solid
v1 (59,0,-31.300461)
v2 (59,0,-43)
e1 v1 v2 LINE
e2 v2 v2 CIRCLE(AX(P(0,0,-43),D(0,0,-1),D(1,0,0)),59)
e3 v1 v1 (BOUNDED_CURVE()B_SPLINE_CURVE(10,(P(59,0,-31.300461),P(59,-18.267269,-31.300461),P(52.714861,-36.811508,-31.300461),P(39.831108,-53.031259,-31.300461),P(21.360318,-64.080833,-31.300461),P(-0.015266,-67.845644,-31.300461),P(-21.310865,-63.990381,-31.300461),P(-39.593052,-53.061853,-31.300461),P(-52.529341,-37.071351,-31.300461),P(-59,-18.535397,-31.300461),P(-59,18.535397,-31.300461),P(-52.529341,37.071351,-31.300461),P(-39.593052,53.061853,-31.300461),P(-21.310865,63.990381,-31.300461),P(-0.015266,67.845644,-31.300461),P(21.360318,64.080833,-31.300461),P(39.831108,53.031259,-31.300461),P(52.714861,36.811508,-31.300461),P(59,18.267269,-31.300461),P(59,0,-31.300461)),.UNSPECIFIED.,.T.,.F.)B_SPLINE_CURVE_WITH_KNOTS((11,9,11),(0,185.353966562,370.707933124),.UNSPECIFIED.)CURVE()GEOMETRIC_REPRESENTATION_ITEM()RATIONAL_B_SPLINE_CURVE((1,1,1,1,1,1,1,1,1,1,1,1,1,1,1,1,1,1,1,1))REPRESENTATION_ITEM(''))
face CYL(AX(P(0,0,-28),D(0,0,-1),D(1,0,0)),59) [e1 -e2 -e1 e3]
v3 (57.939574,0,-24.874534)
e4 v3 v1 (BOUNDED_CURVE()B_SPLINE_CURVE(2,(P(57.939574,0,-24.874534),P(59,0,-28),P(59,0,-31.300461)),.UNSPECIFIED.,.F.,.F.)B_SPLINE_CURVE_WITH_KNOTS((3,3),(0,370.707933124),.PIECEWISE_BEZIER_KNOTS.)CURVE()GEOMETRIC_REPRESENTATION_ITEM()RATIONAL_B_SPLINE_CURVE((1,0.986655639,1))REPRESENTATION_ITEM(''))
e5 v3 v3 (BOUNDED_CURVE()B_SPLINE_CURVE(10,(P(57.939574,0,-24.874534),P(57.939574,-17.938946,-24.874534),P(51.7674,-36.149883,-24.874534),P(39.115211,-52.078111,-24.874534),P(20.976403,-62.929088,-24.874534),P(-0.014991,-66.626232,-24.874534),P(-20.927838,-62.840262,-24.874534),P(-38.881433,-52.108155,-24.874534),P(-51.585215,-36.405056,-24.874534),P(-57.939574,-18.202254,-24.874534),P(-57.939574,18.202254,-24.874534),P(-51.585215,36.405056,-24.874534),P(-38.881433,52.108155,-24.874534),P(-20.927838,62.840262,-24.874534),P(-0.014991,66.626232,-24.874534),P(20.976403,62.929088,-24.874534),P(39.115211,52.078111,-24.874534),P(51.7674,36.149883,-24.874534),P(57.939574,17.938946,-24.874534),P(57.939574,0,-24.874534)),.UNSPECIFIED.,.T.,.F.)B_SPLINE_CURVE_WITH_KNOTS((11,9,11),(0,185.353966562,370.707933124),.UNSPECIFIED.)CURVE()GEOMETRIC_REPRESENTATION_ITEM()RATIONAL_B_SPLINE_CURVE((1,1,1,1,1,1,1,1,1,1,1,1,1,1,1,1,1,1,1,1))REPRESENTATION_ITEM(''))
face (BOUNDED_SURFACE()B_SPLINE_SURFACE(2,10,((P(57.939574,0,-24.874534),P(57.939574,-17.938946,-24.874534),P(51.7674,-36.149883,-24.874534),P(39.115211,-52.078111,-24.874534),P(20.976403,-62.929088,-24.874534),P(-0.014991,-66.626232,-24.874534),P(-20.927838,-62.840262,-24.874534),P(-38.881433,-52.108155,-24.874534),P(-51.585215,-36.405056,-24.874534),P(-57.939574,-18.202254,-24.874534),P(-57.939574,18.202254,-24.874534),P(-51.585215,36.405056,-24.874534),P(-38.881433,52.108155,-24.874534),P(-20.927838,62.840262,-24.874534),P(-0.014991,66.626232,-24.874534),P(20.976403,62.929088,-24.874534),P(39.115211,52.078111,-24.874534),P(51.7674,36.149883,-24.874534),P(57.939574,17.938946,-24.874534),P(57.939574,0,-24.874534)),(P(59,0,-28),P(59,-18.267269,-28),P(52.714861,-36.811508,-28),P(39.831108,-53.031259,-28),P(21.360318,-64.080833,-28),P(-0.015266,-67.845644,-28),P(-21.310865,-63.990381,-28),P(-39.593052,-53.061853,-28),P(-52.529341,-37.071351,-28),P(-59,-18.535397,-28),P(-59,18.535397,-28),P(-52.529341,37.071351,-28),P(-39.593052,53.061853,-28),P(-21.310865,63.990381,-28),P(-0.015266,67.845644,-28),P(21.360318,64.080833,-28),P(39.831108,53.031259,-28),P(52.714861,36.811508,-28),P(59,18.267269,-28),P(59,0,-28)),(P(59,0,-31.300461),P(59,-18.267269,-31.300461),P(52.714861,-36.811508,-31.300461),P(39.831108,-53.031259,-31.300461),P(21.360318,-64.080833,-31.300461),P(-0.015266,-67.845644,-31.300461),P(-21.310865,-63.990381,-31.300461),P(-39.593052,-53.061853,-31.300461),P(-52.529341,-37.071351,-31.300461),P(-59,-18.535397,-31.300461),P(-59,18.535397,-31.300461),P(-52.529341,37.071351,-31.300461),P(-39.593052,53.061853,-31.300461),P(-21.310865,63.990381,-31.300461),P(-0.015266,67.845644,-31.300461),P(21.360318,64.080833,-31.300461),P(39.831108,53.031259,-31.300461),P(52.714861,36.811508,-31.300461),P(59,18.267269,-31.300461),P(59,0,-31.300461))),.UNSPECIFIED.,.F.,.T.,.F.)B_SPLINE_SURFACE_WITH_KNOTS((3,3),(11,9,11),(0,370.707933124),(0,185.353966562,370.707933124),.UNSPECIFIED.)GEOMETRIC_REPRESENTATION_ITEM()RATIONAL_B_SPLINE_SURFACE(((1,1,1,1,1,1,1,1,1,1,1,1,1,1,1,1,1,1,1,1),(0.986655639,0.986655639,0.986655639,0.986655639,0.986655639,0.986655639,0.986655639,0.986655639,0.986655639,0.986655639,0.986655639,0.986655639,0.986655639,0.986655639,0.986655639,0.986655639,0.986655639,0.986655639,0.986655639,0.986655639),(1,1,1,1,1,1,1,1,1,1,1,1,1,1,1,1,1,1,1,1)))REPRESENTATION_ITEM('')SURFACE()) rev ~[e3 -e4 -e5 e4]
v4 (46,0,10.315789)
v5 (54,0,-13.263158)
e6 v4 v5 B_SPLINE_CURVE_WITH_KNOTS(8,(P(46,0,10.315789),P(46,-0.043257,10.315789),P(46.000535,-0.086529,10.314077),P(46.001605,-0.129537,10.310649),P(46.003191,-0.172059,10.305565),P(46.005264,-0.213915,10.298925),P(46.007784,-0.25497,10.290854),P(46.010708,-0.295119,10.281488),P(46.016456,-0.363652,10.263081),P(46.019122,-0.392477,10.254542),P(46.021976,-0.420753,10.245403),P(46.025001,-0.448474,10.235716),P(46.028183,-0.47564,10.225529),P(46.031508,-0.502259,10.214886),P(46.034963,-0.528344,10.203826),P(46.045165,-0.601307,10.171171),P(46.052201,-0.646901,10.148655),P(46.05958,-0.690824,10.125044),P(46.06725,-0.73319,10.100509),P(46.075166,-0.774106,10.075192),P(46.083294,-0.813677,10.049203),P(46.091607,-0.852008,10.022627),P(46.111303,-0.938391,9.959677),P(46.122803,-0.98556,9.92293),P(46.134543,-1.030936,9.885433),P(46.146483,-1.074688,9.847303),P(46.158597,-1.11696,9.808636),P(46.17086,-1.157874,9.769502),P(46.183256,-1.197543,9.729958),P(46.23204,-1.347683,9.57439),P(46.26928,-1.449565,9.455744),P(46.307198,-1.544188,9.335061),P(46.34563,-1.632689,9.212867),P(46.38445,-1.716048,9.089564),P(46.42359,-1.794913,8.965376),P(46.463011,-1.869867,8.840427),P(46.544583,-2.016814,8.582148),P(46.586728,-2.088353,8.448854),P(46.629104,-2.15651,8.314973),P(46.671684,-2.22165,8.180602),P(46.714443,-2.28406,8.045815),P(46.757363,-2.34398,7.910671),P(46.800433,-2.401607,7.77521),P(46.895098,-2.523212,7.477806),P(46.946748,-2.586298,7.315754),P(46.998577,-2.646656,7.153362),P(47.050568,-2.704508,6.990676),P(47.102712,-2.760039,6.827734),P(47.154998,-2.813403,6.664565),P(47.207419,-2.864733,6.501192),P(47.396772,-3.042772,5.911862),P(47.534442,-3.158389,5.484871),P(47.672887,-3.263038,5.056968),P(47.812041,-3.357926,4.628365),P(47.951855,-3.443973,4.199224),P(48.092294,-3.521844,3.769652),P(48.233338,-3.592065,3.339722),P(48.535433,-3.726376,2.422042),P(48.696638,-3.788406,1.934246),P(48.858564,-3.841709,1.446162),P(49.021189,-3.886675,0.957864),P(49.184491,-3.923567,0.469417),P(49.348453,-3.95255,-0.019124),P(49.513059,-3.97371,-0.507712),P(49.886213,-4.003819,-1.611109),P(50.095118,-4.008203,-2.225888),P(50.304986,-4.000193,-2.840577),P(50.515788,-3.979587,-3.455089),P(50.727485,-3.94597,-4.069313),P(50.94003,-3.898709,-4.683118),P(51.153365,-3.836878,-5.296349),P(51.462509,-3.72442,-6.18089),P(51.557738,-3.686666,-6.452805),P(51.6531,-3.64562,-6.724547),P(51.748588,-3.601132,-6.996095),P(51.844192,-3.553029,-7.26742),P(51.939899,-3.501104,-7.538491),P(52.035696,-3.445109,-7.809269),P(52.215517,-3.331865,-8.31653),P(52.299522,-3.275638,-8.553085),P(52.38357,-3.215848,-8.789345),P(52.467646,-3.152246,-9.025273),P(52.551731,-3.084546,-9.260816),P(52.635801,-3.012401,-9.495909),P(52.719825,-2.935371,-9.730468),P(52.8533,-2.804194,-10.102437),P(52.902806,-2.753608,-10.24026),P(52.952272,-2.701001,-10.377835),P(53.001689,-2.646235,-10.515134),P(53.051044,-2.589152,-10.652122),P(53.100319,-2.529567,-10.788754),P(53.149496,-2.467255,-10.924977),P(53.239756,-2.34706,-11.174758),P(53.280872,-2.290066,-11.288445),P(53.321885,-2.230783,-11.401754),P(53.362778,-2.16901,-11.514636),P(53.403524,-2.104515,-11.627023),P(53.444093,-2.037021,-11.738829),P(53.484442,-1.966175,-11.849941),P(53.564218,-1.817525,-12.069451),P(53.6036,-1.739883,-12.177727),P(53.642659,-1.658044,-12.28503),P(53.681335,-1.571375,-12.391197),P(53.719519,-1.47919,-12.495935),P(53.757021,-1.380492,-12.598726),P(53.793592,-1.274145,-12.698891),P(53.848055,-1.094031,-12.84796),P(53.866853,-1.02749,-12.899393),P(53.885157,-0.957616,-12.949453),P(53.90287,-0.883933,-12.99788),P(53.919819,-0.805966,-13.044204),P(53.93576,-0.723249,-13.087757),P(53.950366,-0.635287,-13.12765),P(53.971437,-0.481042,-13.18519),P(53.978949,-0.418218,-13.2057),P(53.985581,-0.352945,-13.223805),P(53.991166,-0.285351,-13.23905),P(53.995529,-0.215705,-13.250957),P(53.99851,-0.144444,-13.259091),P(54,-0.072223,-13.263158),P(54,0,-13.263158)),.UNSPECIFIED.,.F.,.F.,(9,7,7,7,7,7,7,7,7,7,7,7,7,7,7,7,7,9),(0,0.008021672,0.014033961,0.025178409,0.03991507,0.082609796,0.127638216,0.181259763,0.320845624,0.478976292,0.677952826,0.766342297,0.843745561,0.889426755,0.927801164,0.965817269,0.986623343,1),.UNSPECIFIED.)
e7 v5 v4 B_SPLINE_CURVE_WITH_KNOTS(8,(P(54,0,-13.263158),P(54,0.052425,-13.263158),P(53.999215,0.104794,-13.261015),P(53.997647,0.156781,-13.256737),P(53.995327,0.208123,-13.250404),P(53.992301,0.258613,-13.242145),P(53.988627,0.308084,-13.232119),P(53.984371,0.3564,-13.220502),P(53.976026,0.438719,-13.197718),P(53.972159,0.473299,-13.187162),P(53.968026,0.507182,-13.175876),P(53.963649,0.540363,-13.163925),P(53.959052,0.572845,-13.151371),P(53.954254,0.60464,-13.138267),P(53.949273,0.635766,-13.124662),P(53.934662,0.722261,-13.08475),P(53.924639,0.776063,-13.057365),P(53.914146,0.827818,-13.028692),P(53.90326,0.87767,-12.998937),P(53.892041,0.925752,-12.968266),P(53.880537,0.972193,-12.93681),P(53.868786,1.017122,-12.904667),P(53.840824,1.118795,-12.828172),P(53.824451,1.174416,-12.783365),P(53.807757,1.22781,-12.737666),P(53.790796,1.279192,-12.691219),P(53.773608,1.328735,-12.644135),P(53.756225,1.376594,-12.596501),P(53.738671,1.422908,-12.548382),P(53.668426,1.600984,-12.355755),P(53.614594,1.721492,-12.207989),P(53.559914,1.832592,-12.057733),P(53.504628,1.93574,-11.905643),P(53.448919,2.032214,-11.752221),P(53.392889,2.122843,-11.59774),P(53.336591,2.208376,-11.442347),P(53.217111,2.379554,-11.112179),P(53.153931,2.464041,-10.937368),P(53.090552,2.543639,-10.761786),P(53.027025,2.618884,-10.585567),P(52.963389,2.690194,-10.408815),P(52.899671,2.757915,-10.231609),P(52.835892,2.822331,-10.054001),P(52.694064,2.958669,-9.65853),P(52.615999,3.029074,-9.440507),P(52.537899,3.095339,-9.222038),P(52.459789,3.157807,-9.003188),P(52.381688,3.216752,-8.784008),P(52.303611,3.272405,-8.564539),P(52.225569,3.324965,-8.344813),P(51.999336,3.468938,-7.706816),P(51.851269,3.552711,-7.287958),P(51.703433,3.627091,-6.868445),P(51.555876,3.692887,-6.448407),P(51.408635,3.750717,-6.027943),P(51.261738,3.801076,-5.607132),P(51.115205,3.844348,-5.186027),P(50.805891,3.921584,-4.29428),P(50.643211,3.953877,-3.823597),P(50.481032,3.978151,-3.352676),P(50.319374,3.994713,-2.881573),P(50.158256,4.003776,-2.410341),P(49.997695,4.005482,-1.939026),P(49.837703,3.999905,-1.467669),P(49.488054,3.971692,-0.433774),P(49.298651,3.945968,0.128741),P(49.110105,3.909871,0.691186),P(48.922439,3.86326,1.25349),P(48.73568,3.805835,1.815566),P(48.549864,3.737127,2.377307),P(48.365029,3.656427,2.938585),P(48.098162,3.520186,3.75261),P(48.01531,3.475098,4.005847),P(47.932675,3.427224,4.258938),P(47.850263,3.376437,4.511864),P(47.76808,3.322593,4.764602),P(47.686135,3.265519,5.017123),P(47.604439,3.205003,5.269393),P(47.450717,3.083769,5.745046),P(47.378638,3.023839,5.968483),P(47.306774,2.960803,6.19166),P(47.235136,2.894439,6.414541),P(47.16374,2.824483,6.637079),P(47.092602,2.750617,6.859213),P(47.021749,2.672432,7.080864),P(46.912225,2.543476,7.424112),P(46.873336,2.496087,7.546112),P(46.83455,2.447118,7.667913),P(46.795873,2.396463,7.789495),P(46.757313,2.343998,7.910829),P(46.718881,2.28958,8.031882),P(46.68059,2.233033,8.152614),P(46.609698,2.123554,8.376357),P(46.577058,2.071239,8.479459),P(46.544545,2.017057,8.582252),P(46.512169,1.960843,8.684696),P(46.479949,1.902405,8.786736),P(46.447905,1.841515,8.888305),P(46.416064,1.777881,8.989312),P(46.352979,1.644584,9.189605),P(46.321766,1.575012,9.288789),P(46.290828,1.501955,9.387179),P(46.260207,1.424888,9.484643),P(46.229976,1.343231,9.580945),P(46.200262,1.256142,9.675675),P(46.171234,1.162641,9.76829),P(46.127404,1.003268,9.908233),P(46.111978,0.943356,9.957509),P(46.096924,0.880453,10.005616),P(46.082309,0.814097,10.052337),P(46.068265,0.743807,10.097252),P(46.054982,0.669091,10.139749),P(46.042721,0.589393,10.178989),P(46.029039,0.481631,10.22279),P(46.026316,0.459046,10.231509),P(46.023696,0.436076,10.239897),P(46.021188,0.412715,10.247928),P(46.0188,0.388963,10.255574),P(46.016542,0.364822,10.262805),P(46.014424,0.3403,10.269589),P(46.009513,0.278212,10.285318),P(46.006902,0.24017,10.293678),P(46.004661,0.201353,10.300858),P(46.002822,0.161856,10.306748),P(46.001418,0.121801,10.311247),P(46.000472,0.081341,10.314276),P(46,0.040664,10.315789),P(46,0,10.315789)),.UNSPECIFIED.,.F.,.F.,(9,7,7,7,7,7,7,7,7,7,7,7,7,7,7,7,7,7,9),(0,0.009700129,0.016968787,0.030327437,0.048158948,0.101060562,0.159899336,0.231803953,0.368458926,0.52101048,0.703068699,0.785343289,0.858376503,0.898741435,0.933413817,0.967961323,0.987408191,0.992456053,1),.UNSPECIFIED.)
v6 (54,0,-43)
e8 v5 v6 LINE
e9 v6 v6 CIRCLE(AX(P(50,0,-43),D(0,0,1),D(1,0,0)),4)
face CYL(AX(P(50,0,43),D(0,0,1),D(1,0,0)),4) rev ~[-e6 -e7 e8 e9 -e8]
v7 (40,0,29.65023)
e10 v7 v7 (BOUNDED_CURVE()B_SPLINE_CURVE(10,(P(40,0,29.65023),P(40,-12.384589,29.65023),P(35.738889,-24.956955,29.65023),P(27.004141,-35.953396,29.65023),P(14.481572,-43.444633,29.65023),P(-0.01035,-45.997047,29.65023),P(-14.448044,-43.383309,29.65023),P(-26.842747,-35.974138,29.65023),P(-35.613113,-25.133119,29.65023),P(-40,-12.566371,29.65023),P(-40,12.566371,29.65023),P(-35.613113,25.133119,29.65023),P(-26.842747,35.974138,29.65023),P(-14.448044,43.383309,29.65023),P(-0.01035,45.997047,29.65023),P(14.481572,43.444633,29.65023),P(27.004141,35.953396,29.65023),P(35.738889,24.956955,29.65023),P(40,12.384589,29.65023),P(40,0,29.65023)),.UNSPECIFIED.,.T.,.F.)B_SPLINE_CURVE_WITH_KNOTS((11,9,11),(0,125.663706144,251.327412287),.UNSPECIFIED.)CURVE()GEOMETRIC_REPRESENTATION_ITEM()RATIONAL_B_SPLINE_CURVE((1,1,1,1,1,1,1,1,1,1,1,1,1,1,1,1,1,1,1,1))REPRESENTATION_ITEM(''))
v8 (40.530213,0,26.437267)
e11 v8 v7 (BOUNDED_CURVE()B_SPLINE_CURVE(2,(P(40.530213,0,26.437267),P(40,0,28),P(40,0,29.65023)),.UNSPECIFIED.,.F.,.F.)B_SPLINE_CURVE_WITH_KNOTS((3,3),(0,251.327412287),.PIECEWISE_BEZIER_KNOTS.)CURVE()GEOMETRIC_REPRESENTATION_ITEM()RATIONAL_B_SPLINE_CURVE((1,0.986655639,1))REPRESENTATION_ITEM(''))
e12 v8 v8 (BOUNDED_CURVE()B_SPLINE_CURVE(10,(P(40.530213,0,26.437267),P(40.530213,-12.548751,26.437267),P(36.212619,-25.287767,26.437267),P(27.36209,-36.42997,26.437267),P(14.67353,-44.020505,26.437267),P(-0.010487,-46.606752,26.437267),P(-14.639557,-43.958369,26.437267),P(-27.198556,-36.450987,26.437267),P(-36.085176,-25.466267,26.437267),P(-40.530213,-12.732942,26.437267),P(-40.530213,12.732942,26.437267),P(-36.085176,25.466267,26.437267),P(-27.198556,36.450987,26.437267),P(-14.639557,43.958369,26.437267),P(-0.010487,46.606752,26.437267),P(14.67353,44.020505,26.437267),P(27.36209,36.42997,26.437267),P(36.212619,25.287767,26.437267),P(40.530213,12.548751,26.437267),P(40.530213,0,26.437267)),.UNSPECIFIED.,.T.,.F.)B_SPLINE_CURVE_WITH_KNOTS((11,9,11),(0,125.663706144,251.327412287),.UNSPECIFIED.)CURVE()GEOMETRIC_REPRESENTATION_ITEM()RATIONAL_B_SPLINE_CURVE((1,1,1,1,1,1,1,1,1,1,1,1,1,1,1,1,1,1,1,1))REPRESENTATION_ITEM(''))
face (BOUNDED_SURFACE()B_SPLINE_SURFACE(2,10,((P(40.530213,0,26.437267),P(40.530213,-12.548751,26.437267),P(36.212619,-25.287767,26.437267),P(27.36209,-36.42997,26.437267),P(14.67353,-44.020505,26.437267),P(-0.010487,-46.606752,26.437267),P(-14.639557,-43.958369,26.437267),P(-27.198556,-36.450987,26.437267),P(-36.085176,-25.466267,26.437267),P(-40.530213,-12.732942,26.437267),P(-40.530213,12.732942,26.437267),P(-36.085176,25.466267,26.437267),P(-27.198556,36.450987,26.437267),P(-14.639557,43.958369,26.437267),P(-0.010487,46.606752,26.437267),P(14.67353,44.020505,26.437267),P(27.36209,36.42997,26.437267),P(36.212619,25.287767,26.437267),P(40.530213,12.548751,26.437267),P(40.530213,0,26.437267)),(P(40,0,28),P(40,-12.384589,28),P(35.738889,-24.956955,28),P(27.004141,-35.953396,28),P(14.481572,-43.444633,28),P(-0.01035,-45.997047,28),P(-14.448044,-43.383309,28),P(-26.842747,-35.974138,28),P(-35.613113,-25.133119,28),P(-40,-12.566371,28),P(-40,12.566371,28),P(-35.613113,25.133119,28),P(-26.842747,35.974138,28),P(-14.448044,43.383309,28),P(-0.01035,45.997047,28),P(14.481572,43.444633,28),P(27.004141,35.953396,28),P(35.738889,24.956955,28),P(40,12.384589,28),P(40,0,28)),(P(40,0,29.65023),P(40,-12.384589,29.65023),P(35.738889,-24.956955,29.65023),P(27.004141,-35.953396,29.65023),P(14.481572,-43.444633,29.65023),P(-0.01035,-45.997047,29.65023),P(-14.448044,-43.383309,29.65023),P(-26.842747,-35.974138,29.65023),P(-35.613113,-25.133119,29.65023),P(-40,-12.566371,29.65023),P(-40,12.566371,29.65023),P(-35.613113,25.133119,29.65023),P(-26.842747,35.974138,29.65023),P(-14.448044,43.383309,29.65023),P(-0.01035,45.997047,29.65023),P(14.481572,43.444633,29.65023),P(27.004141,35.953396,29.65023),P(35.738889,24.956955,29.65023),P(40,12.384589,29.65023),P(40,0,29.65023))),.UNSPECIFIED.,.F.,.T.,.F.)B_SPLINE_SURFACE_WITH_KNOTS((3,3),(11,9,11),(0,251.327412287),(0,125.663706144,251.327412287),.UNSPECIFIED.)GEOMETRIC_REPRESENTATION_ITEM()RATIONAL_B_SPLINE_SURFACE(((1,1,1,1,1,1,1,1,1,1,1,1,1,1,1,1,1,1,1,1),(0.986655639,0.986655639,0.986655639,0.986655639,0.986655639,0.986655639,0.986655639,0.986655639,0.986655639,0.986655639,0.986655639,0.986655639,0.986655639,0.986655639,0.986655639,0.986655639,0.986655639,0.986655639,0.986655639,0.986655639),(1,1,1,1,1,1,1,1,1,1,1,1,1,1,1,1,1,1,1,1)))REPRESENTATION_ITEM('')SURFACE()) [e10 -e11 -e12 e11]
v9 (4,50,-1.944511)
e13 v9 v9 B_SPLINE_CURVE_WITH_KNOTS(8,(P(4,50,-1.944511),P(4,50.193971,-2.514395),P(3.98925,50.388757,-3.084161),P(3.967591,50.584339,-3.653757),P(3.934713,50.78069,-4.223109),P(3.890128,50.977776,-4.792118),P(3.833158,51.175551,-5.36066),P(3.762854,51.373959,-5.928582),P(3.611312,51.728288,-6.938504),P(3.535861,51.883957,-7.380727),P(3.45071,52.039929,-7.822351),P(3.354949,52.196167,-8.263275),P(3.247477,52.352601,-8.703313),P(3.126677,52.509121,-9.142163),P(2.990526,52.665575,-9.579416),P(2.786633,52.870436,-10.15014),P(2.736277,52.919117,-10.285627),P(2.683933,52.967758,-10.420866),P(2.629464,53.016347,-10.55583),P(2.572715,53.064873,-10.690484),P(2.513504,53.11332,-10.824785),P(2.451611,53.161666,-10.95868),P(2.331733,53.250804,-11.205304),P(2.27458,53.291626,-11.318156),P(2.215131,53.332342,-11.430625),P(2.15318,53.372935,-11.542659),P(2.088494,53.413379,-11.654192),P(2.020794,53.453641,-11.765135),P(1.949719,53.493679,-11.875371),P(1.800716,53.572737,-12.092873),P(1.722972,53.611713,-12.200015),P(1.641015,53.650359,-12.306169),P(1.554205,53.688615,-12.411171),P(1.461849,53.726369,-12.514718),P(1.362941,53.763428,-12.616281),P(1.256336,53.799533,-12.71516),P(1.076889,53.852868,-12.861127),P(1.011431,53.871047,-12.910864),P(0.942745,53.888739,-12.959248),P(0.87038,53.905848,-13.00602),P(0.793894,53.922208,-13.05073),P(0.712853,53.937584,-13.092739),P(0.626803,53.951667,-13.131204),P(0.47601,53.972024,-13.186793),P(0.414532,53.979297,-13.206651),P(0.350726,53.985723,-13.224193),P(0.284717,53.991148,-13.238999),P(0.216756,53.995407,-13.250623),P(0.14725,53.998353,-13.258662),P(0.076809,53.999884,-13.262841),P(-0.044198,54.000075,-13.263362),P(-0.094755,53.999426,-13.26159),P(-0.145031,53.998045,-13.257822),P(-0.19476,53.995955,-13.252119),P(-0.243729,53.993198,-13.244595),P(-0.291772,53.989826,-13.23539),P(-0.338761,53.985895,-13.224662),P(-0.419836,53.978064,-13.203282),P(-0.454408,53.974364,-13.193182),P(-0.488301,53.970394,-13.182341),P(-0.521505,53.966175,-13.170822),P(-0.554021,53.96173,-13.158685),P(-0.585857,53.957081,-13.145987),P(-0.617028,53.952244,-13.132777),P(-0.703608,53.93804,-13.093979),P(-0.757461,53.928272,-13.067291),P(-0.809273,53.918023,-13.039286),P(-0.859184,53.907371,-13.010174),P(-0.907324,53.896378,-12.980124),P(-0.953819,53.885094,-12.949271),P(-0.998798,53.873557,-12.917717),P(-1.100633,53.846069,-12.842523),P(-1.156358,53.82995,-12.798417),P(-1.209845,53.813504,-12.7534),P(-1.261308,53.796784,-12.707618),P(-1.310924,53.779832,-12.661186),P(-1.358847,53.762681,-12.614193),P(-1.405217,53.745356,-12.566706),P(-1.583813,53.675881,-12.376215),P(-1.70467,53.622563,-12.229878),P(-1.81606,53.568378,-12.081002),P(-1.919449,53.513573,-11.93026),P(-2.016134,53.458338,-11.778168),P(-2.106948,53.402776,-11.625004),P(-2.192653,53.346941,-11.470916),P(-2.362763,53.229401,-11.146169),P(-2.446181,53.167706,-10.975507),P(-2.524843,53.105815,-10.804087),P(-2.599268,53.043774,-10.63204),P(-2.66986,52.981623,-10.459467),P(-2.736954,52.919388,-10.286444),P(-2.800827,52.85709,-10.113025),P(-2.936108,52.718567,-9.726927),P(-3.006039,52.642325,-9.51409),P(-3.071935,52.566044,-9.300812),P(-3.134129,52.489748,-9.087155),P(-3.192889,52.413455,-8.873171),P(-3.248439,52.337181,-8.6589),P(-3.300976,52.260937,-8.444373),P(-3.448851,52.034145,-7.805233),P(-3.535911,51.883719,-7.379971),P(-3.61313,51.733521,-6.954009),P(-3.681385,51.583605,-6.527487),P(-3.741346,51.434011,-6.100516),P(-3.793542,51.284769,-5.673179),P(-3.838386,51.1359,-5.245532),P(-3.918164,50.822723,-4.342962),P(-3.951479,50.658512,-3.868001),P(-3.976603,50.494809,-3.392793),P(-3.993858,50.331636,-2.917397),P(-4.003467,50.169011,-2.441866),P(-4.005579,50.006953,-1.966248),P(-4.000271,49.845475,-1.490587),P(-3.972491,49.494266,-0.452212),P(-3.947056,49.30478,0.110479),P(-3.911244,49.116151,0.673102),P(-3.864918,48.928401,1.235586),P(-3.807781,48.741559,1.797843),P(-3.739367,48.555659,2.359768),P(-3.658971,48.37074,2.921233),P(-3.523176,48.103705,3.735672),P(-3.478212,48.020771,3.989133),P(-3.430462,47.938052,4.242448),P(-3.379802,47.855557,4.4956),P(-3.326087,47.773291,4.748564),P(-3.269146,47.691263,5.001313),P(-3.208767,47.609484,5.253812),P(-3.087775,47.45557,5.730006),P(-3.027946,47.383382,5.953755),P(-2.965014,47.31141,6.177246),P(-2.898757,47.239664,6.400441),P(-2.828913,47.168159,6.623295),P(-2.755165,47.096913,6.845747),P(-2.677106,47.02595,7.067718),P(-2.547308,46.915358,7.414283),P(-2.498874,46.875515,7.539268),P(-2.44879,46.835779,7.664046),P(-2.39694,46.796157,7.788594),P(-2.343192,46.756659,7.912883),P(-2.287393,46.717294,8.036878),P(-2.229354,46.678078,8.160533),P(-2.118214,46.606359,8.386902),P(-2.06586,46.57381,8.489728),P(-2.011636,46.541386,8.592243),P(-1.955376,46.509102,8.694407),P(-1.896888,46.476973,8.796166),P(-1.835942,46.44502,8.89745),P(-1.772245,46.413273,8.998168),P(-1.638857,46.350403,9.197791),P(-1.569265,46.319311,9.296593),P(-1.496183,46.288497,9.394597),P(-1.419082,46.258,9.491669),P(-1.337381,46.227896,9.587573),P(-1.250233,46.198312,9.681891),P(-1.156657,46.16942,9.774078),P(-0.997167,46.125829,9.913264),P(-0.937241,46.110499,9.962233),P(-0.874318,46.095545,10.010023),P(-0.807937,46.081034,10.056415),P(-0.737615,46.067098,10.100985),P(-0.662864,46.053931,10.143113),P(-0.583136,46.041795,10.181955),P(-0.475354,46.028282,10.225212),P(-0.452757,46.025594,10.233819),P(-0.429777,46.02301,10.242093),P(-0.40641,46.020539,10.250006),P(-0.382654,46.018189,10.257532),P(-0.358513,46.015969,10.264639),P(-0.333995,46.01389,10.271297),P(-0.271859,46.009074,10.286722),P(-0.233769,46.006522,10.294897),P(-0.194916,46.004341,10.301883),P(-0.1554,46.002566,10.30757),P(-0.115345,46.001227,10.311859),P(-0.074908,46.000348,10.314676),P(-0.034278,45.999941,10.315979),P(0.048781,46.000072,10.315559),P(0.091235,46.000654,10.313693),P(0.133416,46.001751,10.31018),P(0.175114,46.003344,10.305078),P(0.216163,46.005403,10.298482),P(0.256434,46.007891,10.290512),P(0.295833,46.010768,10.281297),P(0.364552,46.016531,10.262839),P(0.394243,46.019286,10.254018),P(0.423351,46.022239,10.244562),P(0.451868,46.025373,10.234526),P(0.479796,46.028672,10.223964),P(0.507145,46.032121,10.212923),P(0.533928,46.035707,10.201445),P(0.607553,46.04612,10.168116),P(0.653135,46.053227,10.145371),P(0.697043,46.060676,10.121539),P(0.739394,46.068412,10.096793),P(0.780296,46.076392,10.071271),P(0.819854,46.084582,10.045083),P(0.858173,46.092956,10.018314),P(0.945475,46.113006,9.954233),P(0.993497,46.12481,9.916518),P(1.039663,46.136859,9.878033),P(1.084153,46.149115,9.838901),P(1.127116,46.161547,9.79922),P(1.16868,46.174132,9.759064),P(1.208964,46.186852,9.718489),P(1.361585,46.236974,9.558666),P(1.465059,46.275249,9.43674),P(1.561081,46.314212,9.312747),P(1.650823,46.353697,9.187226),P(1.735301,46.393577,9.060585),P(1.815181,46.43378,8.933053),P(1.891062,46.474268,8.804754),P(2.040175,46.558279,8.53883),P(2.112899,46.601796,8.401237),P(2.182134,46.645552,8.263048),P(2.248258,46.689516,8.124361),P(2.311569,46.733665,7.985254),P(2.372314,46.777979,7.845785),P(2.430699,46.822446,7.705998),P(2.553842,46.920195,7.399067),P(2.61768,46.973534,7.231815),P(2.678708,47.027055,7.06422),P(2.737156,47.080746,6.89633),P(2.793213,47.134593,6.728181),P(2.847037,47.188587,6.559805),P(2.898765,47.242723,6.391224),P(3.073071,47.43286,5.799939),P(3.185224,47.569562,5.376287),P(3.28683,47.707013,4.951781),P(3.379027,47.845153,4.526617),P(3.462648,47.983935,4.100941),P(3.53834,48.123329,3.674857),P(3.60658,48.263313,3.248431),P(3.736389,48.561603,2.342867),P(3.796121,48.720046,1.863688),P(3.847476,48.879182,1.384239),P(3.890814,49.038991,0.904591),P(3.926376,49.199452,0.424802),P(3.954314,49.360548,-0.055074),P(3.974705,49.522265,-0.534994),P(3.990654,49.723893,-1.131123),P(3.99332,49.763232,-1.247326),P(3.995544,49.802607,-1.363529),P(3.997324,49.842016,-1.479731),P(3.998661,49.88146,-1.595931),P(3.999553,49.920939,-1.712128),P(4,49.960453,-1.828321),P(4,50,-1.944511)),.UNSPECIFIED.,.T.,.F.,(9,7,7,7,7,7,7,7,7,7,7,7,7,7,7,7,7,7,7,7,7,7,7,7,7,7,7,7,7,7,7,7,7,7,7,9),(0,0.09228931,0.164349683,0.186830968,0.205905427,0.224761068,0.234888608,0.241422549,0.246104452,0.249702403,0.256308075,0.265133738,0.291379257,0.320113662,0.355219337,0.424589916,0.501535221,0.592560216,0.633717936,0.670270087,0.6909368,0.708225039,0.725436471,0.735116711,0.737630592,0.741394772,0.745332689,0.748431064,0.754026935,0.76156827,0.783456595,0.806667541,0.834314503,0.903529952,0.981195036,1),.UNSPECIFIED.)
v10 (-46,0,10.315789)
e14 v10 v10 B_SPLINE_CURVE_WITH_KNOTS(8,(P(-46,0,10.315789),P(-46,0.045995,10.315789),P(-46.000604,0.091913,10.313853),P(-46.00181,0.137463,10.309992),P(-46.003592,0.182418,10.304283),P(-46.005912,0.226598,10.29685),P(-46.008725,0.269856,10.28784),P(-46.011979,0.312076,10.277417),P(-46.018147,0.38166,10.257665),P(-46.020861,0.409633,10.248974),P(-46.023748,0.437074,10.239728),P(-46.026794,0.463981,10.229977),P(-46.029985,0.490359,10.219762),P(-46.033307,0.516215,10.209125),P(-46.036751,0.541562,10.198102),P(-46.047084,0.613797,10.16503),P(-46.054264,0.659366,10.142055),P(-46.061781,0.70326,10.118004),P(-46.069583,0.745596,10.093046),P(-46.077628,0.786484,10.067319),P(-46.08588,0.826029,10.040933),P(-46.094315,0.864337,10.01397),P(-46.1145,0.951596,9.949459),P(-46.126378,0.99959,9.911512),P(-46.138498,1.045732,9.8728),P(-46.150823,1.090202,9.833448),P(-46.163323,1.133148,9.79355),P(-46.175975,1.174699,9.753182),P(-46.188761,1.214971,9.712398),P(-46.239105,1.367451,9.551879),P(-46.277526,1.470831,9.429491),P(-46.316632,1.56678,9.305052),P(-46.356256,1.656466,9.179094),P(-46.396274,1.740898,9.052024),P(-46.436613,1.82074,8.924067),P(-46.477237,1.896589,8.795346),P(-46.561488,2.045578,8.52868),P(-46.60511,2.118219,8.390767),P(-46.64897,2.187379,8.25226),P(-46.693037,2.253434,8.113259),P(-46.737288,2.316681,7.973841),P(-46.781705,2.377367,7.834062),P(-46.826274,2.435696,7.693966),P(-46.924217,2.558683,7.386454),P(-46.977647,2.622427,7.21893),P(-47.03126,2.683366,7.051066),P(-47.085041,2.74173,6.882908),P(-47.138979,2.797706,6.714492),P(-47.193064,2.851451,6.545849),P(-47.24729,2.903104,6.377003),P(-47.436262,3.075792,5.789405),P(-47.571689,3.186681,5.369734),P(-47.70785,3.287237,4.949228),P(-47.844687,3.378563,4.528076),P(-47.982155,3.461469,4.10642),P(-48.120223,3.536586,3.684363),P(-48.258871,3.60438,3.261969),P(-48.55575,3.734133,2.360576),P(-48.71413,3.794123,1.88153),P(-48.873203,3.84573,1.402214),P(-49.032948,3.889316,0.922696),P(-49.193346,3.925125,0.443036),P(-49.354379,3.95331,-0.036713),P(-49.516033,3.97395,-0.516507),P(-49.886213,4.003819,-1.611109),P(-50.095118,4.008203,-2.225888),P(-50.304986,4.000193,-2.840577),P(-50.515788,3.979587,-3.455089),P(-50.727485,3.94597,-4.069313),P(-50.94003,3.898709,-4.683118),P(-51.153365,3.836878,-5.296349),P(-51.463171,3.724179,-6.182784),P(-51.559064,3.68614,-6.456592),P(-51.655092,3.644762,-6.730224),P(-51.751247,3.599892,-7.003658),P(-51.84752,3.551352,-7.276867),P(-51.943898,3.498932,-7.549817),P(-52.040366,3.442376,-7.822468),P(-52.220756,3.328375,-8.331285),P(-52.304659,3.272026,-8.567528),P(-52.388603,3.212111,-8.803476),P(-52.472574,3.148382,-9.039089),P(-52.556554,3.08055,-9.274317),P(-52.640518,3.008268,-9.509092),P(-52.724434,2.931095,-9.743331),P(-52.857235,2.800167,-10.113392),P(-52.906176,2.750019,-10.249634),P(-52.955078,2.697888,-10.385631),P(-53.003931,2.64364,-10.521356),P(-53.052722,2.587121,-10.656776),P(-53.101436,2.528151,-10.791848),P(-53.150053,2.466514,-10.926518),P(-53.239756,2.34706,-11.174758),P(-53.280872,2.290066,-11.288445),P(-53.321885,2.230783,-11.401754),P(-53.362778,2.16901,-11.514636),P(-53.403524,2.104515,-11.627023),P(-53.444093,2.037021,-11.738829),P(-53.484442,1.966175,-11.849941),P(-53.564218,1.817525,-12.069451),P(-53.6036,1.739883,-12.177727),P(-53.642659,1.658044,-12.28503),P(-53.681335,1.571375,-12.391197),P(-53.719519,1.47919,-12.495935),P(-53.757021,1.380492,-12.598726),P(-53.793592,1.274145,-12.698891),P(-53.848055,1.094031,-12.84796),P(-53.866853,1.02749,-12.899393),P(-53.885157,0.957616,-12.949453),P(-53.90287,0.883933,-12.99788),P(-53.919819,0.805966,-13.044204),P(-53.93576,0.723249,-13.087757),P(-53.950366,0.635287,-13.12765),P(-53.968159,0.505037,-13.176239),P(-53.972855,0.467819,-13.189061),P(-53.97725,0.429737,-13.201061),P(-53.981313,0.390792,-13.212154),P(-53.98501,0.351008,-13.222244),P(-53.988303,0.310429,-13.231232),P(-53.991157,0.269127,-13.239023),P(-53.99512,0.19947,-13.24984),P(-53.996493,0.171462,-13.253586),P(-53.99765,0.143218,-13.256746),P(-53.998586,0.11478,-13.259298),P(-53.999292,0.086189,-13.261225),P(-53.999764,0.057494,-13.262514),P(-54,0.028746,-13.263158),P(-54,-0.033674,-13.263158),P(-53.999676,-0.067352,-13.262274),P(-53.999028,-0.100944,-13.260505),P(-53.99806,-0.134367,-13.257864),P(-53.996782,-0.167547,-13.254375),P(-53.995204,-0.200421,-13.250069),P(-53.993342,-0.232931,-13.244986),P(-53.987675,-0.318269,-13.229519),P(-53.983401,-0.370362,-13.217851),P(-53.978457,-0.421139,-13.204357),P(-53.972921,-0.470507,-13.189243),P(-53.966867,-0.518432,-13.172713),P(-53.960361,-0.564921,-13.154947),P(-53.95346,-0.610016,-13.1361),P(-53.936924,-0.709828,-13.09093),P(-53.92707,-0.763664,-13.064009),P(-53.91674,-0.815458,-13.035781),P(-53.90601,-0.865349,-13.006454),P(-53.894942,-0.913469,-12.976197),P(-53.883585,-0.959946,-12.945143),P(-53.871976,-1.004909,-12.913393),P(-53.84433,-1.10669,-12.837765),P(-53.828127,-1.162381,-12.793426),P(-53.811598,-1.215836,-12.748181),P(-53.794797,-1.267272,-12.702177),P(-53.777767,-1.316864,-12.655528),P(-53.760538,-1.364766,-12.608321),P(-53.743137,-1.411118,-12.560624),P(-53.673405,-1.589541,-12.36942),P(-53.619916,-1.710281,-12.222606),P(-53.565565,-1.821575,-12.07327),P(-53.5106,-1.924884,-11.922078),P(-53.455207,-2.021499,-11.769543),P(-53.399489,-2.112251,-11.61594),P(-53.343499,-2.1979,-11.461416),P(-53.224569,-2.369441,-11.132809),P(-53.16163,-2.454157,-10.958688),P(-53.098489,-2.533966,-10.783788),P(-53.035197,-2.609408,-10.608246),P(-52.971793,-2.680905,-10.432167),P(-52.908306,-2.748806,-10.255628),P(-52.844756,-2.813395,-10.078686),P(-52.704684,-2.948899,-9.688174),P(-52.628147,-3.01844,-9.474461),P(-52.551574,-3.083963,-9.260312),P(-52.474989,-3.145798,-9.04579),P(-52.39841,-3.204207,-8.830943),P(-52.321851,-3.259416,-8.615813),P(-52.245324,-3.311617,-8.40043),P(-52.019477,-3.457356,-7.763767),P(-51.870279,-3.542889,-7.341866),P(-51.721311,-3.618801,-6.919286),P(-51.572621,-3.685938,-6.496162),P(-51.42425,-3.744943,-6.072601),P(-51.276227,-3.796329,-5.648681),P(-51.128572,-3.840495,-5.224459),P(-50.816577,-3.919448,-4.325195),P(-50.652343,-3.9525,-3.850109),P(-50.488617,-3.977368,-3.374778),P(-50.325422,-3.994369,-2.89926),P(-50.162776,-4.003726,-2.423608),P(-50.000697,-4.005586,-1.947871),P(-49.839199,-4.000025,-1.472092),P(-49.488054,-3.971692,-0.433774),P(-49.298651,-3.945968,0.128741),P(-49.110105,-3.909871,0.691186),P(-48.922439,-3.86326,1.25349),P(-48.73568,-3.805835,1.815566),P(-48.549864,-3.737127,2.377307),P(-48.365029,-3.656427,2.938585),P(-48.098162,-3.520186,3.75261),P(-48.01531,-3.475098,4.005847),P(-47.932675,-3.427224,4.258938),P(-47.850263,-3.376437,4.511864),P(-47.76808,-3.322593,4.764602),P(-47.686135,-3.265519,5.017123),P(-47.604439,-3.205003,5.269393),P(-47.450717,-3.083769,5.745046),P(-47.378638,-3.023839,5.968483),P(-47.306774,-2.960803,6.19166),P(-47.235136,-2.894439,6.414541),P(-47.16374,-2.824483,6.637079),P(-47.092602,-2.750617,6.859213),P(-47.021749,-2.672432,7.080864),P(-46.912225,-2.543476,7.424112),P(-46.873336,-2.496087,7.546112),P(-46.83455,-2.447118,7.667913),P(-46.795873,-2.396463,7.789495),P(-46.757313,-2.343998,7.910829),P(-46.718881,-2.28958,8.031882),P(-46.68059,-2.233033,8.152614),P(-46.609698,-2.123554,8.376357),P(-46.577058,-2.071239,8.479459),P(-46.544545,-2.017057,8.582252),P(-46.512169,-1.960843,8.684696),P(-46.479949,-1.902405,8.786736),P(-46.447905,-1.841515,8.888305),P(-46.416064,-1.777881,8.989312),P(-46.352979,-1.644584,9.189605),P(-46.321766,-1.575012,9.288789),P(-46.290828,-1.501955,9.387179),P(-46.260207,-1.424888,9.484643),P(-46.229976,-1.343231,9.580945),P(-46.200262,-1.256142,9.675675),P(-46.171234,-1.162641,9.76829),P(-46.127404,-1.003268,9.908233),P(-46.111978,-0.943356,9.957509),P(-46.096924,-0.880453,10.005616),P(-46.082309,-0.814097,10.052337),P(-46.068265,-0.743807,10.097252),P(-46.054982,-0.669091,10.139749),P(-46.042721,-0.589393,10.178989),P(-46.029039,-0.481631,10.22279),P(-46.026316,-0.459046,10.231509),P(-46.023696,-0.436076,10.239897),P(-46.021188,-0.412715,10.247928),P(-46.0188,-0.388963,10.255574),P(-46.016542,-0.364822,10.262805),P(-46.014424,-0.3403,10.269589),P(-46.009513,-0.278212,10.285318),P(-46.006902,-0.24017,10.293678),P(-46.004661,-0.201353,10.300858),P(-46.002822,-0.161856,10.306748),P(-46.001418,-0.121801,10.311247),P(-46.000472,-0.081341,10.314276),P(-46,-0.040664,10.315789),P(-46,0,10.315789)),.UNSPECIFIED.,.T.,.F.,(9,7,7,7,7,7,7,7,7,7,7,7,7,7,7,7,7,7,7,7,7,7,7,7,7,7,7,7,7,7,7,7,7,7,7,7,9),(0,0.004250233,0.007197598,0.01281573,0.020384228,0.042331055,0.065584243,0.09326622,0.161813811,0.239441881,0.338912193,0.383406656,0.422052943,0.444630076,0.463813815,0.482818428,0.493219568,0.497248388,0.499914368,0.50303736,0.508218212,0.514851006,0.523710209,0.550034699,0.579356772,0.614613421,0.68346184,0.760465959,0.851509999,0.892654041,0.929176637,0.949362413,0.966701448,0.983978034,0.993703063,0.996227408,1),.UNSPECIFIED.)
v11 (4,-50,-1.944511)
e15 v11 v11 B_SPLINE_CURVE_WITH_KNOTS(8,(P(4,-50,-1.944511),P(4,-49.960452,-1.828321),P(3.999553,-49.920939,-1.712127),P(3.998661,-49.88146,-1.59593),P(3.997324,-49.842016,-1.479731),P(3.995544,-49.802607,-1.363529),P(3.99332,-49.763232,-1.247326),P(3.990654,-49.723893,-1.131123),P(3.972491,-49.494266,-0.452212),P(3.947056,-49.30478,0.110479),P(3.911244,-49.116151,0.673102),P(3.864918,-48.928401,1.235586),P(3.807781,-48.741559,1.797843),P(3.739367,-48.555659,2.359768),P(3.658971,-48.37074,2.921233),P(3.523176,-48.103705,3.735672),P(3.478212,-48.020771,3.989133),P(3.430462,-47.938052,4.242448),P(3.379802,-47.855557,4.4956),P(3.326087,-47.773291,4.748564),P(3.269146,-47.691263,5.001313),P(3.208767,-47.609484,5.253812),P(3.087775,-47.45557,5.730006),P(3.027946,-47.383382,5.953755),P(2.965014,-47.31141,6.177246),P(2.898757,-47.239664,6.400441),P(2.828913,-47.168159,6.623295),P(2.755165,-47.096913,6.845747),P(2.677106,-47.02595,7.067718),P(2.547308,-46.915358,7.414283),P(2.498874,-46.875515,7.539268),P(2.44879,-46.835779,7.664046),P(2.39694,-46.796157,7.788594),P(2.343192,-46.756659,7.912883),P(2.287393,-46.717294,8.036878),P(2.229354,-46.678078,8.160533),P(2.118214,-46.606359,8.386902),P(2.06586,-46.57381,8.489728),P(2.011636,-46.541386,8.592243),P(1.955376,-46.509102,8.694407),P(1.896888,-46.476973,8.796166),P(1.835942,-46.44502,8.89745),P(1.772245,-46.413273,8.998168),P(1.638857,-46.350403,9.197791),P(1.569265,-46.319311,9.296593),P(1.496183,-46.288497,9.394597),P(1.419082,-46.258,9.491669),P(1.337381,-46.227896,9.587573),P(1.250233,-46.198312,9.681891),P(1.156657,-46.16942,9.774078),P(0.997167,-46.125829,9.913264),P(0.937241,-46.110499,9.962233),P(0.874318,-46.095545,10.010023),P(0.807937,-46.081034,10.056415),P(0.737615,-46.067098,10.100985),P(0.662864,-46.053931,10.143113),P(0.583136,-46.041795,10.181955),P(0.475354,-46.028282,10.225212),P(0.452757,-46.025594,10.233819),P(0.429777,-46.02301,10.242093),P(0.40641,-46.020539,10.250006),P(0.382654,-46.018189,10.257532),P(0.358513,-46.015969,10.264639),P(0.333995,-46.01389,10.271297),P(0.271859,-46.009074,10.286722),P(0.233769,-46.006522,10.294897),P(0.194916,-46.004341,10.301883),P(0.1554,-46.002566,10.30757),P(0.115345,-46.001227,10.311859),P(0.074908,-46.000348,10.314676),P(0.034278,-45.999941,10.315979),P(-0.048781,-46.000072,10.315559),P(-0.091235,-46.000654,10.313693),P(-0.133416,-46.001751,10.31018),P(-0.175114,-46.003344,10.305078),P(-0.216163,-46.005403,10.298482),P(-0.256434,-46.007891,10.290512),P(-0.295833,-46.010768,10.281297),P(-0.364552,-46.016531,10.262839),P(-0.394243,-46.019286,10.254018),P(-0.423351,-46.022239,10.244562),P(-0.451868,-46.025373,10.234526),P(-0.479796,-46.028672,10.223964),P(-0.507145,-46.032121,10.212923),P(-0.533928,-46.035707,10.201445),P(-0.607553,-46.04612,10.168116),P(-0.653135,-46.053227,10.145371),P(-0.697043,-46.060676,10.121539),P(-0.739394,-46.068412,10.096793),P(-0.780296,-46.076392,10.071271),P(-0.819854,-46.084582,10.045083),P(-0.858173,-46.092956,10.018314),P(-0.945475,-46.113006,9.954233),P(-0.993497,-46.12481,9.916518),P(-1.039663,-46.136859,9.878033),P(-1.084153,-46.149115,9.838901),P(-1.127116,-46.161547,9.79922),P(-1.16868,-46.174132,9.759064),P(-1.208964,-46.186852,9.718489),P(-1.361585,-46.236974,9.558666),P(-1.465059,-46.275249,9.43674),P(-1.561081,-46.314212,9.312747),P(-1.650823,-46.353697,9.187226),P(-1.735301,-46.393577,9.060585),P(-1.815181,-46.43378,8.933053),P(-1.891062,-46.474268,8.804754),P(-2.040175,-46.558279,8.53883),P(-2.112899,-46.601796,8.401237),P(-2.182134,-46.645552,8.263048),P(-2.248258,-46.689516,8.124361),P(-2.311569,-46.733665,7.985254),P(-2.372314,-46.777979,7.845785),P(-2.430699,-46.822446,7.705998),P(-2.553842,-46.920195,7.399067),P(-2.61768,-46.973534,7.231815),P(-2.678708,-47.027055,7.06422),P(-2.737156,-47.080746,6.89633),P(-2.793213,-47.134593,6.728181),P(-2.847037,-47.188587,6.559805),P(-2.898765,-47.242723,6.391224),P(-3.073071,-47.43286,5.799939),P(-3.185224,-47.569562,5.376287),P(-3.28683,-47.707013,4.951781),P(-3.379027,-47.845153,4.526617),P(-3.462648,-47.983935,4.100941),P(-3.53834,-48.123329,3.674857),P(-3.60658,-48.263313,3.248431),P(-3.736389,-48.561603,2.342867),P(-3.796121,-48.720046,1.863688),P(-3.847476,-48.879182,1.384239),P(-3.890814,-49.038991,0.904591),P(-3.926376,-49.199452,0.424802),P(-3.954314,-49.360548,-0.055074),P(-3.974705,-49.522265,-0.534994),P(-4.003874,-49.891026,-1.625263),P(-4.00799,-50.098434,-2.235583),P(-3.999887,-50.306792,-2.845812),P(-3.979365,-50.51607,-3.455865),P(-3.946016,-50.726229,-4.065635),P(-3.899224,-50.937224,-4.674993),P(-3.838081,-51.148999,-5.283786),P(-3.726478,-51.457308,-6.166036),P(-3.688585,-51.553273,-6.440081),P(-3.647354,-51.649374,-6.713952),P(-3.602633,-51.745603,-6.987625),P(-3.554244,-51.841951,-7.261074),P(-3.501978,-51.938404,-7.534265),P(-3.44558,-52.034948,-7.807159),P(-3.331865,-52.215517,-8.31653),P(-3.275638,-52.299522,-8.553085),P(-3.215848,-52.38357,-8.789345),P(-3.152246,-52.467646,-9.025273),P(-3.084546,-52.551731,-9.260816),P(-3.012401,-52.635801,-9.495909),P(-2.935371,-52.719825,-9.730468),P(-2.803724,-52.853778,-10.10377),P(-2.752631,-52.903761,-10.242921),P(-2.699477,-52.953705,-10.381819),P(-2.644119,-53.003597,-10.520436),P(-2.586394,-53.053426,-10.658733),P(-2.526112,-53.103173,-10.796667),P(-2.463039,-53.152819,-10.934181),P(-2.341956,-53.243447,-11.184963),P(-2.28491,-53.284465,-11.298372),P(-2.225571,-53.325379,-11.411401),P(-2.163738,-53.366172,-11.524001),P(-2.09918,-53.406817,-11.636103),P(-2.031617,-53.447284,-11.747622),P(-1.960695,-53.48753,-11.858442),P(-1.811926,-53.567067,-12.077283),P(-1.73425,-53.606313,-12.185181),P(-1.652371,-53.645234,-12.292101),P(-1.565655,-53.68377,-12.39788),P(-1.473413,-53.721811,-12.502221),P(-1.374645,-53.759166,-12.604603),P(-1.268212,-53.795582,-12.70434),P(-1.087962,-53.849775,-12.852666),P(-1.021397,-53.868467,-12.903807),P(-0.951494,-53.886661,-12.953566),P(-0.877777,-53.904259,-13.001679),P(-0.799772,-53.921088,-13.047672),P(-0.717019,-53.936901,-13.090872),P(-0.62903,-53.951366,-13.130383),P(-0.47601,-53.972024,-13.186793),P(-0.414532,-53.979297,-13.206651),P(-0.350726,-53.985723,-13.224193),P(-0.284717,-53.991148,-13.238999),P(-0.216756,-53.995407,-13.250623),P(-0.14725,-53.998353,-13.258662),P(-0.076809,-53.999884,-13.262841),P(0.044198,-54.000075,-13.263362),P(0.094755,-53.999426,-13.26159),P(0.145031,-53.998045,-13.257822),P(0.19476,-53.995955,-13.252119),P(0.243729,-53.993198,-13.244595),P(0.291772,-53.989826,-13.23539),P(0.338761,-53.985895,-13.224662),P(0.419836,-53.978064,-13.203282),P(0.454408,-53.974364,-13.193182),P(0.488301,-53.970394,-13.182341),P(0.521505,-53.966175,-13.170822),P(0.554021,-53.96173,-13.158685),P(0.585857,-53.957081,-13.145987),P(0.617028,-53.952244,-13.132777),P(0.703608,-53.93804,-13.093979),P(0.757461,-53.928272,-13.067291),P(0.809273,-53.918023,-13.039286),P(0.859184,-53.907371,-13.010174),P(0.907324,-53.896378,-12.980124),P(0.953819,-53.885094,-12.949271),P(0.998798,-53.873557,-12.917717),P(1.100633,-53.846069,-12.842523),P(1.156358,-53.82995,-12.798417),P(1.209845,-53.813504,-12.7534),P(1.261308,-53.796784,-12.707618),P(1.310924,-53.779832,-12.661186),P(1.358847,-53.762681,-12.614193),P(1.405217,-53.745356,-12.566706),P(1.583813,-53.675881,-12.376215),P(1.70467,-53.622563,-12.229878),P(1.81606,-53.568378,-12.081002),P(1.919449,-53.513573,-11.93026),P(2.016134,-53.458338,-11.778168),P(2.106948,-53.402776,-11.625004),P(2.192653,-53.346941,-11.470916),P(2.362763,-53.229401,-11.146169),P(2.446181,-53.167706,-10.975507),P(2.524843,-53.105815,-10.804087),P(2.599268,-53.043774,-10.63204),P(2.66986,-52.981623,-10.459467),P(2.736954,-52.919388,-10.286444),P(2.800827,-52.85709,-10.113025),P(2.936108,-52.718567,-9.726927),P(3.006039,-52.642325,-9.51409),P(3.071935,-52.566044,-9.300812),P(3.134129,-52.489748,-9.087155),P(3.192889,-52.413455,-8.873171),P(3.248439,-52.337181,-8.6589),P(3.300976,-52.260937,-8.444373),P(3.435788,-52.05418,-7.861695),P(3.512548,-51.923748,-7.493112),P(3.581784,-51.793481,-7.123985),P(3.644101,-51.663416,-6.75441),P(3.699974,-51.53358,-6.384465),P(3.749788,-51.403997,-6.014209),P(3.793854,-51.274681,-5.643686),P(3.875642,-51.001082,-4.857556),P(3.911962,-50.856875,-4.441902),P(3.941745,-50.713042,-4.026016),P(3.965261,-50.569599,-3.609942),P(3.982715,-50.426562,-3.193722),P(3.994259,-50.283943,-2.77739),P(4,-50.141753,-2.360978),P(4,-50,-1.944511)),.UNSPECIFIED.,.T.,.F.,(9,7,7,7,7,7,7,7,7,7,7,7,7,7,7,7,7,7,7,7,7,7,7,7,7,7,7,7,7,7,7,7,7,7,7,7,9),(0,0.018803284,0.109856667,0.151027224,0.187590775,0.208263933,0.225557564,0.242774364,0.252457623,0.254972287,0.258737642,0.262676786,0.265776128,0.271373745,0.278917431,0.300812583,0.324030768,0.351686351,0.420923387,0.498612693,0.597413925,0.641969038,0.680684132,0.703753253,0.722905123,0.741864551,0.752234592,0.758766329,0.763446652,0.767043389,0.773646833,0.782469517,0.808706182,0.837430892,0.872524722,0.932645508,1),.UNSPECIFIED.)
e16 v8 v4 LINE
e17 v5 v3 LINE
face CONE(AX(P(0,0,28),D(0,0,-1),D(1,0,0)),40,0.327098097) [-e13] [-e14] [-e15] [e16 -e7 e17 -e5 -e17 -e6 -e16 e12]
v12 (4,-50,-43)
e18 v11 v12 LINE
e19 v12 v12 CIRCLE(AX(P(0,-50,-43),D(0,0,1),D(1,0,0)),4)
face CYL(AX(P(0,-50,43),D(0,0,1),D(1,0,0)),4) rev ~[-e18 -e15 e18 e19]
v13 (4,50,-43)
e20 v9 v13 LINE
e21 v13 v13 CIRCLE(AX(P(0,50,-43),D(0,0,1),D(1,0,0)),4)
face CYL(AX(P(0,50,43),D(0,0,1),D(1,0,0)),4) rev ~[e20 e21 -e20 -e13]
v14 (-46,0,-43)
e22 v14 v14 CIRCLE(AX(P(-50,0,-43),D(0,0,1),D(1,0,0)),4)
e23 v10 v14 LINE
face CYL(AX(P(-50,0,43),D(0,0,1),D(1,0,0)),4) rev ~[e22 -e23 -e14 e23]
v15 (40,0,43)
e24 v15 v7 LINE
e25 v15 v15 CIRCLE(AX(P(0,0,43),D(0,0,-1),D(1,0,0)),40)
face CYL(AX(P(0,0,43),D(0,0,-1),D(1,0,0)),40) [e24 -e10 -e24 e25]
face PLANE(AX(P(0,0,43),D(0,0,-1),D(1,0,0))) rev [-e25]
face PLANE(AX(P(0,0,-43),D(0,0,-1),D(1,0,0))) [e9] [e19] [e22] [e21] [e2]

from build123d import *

# Parameters (mm, degrees)
FILLET1_R          = 20
FILLET2_R          = 10
SKETCH2_R          = 4
CUT_EXTRUDE1_DEPTH = 120.824873174


with BuildPart() as part:
    # Sketch1 → Revolve1 (revolve)
    with BuildSketch(Plane(origin=(0, 0, 0), x_dir=(1, 0, 0), z_dir=(0, 1, 0)), mode=Mode.PRIVATE) as revolve1_sk:
        Polygon((0, -43), (-40, -43), (-40, -28), (-59, 28), (-59, 43), (0, 43), align=None)
    revolve(revolve1_sk.sketch.rotate(Axis((0, 0, 171.126428829), (0, 0, -1)), 180), axis=Axis((0, 0, 171.126428829), (0, 0, -1)))

    # Fillet1
    fillet1_edges = [part.edges().sort_by_distance(p)[0] for p in [
        (-59, 0, -28),
    ]]
    fillet(fillet1_edges, radius=FILLET1_R)

    # Fillet2
    fillet2_edges = [part.edges().sort_by_distance(p)[0] for p in [
        (-40, 0, 28),
    ]]
    fillet(fillet2_edges, radius=FILLET2_R)

    # Sketch2 → Cut-Extrude1 (cut, through all)
    with BuildSketch(Plane.XY.offset(43)):
        with Locations((0, 50)):
            Circle(SKETCH2_R)
        with Locations((50, 0)):
            Circle(SKETCH2_R)
        with Locations((0, -50)):
            Circle(SKETCH2_R)
        with Locations((-50, 0)):
            Circle(SKETCH2_R)
    extrude(amount=-CUT_EXTRUDE1_DEPTH, mode=Mode.SUBTRACT)


solid = part.part
